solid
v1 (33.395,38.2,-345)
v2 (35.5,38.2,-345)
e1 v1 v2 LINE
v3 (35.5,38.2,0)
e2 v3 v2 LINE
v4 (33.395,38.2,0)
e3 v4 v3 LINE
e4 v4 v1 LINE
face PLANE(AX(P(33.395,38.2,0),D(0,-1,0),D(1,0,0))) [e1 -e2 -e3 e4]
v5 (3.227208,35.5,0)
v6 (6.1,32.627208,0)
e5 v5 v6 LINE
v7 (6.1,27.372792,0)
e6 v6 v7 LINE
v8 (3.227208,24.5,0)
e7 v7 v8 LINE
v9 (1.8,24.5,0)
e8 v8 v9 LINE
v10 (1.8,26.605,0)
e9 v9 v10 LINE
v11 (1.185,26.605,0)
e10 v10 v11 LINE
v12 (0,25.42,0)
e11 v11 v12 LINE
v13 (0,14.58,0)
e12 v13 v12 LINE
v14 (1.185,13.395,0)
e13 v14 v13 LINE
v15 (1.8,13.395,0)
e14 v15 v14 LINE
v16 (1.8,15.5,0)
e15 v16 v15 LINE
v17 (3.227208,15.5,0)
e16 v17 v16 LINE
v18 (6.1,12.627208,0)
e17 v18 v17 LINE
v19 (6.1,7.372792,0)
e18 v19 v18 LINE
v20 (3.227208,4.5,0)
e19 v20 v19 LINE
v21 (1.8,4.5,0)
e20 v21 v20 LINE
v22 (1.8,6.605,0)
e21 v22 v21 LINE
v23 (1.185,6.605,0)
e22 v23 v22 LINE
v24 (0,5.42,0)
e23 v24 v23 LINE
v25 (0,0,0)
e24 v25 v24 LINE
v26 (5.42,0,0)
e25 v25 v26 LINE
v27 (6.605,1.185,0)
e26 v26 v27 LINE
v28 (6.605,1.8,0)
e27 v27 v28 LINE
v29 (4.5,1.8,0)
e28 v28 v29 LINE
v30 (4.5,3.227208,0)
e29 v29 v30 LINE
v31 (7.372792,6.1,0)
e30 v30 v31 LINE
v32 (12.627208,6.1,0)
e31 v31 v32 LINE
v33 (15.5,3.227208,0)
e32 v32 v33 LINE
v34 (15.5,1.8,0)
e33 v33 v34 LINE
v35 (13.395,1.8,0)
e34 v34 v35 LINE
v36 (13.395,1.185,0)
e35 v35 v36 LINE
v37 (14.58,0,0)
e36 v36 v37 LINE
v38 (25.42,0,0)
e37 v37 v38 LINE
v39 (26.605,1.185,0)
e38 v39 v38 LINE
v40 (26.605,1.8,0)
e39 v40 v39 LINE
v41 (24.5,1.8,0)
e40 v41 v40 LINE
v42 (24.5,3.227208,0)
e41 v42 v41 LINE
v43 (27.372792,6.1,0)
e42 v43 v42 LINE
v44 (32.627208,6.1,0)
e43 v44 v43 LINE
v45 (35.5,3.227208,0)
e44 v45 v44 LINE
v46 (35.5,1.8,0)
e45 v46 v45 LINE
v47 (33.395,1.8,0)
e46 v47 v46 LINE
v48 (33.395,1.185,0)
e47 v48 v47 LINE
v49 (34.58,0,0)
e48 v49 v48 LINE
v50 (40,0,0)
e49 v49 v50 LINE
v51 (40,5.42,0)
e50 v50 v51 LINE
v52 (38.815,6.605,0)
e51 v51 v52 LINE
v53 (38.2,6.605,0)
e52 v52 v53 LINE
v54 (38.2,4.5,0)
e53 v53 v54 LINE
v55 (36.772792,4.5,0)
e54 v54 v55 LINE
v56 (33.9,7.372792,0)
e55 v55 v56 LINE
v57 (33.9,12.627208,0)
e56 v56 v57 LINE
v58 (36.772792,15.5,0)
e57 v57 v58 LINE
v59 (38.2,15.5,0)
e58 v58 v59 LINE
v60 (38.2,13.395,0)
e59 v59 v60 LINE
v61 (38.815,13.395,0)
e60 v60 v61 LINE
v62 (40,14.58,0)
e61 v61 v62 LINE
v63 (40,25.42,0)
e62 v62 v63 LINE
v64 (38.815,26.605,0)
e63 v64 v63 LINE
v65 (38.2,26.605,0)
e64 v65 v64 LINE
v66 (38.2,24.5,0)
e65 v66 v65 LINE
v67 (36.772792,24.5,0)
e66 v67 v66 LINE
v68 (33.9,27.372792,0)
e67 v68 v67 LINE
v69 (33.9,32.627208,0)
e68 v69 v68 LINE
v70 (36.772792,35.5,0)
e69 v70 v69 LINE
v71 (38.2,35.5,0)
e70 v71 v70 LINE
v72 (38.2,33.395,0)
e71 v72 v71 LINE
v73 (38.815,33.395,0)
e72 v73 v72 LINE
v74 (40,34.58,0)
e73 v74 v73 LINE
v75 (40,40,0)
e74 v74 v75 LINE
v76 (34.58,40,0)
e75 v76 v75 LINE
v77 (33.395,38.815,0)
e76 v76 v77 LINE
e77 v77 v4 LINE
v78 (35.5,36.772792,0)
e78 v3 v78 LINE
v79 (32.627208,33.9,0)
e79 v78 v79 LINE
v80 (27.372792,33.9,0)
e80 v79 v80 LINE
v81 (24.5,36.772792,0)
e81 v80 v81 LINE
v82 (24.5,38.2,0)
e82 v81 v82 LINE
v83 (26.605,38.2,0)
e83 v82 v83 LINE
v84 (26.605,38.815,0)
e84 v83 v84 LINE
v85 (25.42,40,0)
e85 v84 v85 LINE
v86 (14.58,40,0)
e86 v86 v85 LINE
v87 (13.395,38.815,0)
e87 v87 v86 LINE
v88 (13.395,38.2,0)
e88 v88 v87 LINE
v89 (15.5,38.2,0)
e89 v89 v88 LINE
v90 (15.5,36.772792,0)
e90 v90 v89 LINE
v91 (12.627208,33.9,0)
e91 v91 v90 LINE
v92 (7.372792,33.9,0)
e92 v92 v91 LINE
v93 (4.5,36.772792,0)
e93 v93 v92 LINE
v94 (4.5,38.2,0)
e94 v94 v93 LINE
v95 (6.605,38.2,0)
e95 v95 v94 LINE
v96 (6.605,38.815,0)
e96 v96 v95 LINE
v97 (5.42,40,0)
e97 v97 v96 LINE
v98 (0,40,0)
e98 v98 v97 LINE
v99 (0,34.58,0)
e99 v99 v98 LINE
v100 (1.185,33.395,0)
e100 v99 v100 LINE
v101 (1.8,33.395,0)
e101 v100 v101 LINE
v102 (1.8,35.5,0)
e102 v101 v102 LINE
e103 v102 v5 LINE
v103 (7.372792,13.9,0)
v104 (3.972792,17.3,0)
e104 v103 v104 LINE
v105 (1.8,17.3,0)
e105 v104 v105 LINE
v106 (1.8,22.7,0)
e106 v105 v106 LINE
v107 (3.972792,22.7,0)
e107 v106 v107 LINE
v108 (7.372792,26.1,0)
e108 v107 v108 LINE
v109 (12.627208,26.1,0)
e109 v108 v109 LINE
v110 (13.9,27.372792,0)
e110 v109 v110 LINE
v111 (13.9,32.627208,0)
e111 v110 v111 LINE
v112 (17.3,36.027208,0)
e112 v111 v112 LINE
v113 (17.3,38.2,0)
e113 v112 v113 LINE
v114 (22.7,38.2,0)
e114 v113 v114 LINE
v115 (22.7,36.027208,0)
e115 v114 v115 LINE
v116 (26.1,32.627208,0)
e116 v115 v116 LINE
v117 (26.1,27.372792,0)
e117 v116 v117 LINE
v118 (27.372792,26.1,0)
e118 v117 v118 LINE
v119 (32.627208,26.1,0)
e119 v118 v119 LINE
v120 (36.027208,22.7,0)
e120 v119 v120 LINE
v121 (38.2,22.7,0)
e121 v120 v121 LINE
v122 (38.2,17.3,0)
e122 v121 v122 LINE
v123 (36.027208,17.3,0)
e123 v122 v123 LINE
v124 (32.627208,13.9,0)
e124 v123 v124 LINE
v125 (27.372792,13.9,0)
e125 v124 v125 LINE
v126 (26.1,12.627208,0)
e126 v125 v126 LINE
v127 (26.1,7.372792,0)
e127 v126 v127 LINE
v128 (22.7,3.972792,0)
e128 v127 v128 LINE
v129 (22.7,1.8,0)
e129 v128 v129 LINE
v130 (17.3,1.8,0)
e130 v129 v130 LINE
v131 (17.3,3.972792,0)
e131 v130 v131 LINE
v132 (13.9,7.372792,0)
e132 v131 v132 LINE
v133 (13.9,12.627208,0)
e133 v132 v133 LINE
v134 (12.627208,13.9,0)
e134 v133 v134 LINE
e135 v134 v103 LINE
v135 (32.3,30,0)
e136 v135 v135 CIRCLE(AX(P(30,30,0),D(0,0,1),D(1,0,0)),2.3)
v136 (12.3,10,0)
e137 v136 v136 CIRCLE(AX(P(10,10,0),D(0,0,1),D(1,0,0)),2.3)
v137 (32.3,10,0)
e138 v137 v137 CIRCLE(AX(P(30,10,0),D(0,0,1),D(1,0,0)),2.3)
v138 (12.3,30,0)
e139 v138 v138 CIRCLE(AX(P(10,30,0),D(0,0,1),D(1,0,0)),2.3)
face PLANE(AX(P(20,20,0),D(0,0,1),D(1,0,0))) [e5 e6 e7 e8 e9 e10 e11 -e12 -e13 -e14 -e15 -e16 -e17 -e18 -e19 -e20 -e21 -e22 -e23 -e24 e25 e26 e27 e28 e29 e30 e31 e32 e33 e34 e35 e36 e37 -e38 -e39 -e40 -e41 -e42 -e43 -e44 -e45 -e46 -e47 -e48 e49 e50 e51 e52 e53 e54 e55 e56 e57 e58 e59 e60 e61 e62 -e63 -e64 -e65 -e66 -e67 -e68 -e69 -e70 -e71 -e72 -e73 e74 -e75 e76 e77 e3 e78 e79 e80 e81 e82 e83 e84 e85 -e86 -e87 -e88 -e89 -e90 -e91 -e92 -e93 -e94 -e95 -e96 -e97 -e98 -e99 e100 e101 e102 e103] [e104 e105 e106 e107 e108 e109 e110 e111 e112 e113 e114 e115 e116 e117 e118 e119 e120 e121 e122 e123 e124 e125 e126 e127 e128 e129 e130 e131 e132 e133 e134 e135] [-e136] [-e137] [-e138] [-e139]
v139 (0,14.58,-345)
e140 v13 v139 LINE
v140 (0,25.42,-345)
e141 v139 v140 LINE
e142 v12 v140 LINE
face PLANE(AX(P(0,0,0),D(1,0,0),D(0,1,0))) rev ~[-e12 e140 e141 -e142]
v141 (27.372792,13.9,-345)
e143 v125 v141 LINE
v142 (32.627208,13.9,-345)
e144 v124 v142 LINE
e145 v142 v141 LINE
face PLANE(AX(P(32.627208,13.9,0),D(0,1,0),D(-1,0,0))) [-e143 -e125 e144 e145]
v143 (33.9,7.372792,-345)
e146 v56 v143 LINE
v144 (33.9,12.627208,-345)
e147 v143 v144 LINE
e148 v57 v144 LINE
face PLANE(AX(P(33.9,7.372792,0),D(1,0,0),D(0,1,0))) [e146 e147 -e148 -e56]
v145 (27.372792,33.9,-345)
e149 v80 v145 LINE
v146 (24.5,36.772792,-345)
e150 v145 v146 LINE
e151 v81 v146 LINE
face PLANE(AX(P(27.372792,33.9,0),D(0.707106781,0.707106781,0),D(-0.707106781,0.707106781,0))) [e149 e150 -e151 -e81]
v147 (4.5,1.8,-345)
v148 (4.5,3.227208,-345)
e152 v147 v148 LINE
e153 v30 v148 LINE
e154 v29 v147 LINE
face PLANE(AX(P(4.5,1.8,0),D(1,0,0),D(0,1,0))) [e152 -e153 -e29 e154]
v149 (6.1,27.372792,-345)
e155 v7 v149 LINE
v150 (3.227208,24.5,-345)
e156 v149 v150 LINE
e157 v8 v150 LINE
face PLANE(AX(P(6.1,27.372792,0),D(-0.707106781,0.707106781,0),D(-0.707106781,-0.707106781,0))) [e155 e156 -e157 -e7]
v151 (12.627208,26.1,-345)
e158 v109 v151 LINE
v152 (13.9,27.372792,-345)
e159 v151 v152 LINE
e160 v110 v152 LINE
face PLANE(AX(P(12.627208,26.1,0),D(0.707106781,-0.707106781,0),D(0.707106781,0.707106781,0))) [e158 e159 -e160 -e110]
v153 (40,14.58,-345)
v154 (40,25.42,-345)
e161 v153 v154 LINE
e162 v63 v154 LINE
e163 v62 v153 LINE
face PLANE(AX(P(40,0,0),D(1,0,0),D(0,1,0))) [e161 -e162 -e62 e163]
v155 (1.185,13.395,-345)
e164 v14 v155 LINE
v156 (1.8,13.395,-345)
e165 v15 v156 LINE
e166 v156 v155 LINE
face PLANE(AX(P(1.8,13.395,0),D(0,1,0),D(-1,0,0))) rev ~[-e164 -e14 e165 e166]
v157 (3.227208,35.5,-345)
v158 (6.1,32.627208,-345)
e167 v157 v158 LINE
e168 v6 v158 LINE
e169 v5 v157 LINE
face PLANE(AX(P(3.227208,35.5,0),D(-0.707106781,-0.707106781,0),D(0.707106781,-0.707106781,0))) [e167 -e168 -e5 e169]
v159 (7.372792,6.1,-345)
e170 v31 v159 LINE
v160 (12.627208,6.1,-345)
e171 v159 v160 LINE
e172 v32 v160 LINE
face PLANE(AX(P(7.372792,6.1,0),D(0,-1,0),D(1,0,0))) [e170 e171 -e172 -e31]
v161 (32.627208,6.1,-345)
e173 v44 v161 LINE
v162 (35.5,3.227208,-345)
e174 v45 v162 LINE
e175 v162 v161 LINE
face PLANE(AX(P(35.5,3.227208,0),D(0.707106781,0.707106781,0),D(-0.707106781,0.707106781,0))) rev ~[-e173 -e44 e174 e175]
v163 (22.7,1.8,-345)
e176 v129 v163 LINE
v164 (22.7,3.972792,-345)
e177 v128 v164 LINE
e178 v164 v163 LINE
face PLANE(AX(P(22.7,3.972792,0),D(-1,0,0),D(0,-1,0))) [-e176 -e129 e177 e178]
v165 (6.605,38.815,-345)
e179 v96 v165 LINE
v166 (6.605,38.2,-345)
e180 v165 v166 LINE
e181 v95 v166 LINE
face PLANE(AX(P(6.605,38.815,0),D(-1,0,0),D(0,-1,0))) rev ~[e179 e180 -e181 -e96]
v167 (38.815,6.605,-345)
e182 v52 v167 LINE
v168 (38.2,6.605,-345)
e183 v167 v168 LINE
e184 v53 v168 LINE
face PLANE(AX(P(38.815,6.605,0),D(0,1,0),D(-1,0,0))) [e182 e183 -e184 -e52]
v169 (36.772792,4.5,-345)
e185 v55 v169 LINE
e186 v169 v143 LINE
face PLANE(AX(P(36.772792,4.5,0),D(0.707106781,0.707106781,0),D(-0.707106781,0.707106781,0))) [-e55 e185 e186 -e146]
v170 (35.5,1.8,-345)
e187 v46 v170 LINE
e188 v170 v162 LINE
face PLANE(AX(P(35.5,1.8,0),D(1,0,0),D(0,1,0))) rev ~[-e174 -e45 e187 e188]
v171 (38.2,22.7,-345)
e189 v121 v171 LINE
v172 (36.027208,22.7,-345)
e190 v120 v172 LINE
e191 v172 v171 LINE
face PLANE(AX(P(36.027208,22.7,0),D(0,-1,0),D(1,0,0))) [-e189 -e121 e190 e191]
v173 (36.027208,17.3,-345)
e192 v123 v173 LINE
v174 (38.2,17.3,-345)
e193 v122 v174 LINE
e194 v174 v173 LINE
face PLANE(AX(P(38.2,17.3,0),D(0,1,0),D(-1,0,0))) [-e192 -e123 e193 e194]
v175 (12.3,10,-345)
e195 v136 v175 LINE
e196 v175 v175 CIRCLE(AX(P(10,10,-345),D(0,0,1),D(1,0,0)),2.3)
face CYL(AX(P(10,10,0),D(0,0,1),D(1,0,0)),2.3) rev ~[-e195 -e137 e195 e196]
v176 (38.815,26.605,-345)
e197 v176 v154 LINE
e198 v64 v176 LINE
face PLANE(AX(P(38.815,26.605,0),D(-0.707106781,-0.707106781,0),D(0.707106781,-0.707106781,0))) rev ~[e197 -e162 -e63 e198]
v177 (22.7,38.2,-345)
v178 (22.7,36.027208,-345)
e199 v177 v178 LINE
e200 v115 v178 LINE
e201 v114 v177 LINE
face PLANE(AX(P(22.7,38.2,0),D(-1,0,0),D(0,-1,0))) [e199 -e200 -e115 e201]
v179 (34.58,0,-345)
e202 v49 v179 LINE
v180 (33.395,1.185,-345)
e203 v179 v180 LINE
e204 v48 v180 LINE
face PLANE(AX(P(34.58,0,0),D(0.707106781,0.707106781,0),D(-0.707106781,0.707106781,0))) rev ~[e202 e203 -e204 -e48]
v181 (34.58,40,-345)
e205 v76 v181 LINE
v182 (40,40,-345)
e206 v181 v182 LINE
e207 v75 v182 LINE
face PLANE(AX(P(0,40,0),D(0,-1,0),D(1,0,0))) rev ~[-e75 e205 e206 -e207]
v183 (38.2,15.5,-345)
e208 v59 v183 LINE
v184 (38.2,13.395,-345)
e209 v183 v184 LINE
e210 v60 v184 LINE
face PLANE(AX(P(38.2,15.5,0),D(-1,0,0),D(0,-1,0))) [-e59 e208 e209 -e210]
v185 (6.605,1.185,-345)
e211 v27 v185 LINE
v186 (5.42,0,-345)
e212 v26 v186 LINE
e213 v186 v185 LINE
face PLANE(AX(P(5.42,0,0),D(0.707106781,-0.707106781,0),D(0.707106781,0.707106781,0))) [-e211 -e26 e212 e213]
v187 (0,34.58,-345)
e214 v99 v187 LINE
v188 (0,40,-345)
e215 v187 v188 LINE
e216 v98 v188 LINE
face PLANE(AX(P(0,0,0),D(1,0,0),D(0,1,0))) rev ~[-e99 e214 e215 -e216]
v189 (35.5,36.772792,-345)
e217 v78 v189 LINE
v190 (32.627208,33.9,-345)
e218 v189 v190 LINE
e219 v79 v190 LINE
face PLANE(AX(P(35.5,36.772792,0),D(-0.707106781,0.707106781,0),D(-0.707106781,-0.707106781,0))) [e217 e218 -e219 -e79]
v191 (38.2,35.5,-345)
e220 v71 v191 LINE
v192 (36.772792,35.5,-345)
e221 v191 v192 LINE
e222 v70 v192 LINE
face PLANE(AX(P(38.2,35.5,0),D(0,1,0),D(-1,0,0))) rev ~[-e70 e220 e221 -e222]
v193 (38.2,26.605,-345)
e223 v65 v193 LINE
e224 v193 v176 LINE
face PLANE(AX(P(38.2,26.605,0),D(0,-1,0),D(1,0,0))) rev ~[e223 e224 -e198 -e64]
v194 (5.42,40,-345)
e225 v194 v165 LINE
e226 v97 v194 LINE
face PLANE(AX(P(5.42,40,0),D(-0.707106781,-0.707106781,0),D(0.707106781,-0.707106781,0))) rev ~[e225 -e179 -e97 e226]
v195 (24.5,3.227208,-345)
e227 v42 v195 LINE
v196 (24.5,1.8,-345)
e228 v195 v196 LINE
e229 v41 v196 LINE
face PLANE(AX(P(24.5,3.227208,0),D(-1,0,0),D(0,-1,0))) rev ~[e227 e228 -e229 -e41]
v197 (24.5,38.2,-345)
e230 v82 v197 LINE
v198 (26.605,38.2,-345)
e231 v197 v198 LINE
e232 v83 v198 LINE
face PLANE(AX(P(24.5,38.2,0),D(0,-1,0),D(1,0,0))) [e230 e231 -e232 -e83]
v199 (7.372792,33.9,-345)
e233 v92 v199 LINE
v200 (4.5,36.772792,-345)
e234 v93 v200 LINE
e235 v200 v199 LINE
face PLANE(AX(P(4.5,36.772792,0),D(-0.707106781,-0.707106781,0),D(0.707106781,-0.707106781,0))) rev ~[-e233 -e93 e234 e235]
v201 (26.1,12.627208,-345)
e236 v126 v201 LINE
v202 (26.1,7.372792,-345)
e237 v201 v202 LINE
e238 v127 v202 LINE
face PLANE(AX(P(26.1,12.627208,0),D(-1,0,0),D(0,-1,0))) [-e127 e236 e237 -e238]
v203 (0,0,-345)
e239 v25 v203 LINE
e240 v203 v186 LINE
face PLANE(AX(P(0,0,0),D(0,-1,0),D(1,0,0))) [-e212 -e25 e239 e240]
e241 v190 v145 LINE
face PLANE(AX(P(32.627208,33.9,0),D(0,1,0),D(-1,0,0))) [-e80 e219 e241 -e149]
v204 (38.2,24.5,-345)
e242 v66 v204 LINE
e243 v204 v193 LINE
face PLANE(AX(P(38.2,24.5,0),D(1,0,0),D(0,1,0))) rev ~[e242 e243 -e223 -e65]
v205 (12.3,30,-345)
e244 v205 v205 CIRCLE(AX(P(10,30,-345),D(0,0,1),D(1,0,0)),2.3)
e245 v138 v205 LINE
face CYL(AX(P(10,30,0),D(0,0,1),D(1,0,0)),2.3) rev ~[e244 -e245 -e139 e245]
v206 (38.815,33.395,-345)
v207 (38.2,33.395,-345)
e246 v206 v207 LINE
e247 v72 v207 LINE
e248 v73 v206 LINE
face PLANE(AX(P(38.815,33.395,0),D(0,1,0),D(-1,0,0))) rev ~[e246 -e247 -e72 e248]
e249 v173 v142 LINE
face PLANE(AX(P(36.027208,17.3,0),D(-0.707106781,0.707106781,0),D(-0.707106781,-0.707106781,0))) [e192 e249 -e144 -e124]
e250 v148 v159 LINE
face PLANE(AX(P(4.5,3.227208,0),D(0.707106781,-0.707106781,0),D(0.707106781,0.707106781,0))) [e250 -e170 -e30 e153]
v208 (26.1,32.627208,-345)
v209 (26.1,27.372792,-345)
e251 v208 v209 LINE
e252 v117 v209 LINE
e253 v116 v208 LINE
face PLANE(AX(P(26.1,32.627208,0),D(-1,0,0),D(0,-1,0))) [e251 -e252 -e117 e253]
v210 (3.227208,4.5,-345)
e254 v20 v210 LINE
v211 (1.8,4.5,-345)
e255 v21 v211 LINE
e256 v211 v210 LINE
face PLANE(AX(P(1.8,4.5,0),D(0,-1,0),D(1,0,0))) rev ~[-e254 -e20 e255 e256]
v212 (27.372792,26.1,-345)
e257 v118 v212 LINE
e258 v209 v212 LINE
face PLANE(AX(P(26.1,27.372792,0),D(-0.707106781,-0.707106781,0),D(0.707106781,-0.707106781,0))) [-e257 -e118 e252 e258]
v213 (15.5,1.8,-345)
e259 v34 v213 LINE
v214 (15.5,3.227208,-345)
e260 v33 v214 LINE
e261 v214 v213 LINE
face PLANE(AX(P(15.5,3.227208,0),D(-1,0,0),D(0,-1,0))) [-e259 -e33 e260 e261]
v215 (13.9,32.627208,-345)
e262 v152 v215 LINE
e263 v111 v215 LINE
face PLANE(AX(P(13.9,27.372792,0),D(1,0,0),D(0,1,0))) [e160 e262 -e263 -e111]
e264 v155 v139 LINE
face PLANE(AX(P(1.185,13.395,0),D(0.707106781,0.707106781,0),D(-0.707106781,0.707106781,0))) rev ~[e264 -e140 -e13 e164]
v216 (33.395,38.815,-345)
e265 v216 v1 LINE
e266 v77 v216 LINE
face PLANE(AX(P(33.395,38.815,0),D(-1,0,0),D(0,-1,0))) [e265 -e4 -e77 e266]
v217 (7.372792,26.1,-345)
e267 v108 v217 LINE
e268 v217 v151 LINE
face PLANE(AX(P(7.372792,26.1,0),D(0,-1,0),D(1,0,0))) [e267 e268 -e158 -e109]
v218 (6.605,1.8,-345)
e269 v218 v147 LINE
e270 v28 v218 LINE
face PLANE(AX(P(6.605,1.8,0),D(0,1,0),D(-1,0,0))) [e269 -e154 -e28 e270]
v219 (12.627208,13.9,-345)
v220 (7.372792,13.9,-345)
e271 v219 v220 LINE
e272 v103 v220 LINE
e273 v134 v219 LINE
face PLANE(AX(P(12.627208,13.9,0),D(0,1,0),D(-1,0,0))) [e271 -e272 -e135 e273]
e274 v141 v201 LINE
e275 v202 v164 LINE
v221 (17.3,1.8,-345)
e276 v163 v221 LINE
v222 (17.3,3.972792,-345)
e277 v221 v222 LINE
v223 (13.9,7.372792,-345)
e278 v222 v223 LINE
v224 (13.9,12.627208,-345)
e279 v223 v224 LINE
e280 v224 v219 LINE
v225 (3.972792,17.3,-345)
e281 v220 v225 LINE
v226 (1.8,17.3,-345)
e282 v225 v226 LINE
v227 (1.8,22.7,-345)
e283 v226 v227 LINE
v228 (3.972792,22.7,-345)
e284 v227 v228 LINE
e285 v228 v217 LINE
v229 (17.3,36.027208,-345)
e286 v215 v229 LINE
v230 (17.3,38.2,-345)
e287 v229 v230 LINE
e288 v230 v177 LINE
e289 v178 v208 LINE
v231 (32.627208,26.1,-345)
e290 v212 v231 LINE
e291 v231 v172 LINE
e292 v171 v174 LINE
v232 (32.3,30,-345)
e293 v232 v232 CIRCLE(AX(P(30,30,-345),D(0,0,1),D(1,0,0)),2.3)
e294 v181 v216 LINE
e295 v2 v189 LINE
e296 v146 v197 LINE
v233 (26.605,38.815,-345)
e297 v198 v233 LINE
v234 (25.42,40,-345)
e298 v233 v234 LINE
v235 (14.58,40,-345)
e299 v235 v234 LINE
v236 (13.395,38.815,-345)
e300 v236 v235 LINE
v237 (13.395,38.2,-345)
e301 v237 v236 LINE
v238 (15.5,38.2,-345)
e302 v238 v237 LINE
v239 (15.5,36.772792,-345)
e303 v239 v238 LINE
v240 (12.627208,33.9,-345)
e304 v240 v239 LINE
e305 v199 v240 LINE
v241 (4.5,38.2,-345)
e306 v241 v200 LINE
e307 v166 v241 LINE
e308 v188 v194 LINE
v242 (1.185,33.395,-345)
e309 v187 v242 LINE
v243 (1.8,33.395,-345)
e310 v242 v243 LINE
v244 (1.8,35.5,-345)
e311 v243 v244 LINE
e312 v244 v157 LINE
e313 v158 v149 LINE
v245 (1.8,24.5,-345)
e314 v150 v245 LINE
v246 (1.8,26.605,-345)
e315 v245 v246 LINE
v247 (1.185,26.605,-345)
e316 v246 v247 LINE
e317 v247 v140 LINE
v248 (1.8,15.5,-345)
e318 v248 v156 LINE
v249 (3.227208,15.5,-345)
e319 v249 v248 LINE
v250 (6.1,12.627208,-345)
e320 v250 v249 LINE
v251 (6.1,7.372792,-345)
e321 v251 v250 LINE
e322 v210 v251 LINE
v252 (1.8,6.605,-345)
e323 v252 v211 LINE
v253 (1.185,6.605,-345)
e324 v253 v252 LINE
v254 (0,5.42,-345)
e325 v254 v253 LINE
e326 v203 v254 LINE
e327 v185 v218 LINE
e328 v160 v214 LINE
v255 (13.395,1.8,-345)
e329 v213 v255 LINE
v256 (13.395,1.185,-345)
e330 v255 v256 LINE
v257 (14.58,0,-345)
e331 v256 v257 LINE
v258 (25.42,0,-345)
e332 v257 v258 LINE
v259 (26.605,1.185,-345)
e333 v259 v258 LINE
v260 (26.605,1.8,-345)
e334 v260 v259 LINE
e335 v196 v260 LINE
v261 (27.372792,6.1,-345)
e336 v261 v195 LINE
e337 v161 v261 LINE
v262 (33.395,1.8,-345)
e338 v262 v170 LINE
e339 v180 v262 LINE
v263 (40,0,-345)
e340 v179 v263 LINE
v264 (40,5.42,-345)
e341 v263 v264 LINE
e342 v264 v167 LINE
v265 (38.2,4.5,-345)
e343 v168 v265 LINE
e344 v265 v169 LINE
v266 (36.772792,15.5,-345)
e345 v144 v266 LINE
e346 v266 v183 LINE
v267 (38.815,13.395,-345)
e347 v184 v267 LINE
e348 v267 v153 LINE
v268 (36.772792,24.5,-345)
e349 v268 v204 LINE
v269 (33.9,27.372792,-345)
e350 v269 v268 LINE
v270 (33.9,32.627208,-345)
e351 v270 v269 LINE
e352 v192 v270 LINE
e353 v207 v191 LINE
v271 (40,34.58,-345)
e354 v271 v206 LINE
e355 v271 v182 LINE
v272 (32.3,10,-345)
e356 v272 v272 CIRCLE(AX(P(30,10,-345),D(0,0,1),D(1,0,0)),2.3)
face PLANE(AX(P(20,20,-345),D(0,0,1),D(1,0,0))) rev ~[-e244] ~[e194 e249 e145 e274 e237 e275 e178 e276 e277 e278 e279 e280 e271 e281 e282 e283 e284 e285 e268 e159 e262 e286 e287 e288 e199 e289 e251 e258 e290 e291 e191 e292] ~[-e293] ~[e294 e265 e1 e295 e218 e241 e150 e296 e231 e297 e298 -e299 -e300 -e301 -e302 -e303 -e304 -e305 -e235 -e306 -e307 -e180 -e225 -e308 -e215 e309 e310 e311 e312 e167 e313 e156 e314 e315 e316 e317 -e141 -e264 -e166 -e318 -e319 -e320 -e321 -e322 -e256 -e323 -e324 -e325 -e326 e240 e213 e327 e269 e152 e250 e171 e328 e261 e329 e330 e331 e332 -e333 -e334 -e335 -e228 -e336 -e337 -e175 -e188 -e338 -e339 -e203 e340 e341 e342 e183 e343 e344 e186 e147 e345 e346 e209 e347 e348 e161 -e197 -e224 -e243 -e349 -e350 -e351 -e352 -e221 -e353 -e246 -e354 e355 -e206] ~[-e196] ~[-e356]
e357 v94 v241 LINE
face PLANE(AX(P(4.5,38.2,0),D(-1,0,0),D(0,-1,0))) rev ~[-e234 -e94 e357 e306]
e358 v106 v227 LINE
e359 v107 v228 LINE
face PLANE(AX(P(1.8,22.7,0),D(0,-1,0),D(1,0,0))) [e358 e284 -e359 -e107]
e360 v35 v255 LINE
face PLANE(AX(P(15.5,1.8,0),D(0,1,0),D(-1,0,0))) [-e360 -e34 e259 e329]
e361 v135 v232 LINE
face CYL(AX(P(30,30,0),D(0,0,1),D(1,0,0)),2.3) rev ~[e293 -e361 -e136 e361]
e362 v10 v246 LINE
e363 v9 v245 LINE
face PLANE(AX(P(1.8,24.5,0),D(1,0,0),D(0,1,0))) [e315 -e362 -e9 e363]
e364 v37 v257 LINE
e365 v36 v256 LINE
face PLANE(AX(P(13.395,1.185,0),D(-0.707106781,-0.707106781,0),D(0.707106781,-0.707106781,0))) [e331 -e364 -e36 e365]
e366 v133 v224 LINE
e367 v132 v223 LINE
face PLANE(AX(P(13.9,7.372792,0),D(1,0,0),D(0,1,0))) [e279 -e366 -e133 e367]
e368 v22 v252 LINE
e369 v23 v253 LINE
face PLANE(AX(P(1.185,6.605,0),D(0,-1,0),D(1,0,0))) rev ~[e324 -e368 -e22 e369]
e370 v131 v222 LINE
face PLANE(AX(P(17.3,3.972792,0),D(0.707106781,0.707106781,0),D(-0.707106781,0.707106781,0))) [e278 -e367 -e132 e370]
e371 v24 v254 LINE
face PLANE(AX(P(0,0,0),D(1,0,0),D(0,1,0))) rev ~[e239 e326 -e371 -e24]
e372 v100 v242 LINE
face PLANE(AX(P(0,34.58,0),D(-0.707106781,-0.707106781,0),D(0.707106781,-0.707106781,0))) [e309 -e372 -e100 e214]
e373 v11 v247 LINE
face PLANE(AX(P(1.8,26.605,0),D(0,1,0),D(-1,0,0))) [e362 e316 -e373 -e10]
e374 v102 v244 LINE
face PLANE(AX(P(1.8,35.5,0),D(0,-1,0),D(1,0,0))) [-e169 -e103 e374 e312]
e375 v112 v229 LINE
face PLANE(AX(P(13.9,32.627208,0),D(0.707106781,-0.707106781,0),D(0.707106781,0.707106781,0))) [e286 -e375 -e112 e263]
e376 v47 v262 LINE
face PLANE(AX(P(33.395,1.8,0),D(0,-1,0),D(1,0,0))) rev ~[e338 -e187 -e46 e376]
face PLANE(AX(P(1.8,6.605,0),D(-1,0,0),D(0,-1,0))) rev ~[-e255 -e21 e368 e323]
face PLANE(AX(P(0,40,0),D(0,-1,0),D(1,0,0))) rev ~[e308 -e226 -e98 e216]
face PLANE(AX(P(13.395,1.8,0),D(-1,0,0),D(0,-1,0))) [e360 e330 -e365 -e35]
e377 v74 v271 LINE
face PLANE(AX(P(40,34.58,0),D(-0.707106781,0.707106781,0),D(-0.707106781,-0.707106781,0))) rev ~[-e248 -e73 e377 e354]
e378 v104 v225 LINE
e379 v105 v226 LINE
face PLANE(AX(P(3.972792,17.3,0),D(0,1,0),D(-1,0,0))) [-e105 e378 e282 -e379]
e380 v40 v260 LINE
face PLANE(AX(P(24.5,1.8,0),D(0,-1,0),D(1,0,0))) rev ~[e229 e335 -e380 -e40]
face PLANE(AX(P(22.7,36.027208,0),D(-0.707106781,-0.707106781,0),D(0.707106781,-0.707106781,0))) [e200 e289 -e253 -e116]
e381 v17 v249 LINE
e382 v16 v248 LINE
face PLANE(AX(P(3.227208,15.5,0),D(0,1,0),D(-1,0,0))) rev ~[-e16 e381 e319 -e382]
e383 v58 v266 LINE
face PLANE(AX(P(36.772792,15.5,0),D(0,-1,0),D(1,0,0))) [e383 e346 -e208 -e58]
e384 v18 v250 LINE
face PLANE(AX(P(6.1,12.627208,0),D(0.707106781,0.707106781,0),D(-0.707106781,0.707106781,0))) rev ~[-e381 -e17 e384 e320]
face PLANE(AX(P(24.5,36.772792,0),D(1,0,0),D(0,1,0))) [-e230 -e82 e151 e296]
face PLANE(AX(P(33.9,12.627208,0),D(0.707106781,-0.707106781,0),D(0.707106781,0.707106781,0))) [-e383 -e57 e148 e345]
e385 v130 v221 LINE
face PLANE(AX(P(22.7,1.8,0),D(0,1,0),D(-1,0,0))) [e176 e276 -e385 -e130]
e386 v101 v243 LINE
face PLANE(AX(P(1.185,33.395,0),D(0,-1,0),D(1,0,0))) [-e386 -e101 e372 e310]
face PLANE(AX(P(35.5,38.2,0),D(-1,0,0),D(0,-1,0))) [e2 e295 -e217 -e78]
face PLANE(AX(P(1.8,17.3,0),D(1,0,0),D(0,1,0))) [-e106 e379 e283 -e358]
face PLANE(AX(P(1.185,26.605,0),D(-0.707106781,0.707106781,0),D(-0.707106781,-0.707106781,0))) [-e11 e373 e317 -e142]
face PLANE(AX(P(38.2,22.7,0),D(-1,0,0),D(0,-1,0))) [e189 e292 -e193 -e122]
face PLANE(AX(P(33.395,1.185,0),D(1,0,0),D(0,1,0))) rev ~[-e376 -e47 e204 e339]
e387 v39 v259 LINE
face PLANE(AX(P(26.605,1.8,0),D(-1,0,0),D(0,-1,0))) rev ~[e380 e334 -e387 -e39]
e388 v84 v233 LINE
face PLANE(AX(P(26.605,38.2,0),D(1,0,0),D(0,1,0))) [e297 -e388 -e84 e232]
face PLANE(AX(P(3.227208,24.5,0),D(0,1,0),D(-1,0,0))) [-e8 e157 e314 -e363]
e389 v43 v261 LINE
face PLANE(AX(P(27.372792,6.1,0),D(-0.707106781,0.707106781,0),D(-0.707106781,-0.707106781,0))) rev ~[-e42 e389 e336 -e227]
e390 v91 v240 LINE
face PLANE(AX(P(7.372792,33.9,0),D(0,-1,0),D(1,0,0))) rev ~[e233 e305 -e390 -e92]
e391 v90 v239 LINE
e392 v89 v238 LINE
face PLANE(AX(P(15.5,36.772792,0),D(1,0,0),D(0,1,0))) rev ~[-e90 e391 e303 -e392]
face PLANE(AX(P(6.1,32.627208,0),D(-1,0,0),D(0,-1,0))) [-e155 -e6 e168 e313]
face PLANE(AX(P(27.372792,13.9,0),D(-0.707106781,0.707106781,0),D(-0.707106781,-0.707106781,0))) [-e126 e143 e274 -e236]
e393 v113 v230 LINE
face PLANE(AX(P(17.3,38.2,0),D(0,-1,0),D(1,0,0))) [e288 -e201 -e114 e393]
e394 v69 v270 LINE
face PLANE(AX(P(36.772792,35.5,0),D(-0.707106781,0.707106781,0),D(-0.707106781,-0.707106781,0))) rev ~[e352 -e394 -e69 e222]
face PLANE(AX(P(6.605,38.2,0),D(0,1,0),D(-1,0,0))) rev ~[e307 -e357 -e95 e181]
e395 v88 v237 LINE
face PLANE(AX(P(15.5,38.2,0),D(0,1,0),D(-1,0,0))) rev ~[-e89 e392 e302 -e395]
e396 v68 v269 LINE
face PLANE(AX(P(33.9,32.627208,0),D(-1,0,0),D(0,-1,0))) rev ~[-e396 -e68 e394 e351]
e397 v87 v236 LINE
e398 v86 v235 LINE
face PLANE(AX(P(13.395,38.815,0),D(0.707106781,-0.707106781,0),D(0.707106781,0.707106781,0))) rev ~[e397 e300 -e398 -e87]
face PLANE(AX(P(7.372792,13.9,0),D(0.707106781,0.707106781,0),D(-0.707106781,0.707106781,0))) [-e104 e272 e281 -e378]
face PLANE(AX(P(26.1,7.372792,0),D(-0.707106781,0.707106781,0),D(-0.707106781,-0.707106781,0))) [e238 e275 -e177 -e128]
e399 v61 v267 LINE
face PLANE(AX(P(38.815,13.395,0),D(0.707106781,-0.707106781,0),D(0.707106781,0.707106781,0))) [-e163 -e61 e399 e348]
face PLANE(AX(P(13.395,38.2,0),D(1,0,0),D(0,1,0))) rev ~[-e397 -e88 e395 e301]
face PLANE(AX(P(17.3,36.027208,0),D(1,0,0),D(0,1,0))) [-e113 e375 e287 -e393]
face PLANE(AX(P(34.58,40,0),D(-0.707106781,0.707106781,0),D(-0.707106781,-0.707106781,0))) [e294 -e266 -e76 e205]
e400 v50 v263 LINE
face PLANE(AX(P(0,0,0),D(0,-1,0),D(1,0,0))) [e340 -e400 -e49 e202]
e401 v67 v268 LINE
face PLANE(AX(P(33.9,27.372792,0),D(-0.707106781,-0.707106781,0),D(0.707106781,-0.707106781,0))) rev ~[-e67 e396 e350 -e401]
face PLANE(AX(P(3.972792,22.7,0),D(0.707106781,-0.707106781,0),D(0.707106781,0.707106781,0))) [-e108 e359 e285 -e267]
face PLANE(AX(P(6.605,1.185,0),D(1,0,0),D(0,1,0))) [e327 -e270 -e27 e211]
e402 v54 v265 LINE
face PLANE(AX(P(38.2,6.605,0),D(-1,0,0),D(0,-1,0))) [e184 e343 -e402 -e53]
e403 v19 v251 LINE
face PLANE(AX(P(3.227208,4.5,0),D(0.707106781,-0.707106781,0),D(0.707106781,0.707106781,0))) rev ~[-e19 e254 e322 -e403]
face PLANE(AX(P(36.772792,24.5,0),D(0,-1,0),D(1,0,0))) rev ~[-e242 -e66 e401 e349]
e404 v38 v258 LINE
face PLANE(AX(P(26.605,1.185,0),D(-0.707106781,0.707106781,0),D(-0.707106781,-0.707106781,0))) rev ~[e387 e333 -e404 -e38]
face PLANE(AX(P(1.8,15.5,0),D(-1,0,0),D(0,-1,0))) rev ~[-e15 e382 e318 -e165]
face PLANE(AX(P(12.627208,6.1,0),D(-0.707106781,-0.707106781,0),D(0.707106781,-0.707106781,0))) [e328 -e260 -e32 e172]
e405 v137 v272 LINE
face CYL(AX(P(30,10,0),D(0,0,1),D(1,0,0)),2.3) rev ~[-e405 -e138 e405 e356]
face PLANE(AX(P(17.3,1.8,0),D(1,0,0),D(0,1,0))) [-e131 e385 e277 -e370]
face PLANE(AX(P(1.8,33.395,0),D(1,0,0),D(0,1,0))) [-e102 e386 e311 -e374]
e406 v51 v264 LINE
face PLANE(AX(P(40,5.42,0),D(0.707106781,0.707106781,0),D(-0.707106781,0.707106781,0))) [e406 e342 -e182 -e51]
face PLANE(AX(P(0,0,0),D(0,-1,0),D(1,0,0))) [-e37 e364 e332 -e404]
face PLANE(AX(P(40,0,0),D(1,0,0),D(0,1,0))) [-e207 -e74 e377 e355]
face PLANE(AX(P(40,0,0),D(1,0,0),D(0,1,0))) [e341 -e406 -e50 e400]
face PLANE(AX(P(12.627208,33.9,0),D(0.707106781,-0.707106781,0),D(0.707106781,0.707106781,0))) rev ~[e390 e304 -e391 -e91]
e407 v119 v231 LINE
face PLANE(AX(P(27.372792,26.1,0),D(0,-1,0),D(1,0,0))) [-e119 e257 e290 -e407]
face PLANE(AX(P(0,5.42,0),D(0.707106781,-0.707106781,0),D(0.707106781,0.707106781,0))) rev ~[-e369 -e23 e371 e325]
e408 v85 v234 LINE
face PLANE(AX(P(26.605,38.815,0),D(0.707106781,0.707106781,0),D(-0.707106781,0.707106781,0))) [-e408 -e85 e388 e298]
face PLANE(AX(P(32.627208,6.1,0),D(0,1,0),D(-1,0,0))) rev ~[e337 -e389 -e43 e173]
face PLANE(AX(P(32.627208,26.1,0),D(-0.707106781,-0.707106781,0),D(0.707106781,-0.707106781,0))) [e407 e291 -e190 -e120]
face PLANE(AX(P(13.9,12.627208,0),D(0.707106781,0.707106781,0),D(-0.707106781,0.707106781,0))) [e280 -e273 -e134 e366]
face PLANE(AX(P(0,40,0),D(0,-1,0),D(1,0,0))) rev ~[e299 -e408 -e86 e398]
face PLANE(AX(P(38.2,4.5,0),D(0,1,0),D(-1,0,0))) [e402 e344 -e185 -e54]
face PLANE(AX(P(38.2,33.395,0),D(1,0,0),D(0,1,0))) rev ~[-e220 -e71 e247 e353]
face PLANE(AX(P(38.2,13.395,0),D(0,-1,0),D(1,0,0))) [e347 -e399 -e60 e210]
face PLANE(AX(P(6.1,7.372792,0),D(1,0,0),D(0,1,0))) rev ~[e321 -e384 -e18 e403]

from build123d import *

# Parameters (mm, degrees)
SKETCH1_W           = 40
SKETCH1_H           = 40
BOSS_EXTRUDE1_DEPTH = 345
SKETCH2_R           = 2.3
CUT_EXTRUDE1_DEPTH  = 345
CUT_EXTRUDE2_DEPTH  = 345


with BuildPart() as part:
    # Sketch1 → Boss-Extrude1 (new body)
    with BuildSketch(Plane.XY):
        with Locations((20, 20)):
            Rectangle(SKETCH1_W, SKETCH1_H)
    extrude(amount=-BOSS_EXTRUDE1_DEPTH)

    # Sketch2 → Cut-Extrude1 (cut)
    with BuildSketch(Plane.XY):
        with Locations((10, 30)):
            Circle(SKETCH2_R)
        with Locations((30, 30)):
            Circle(SKETCH2_R)
        with Locations((30, 10)):
            Circle(SKETCH2_R)
        with Locations((10, 10)):
            Circle(SKETCH2_R)
        Polygon((6.605, 38.815), (6.605, 38.2), (4.5, 38.2), (4.5, 36.772792206), (7.372792206, 33.9), (12.627207794, 33.9), (15.5, 36.772792206), (15.5, 38.2), (13.395, 38.2), (13.395, 38.815), (14.58, 40), (5.42, 40), align=None)
        Polygon((26.605, 38.815), (25.42, 40), (34.58, 40), (33.395, 38.815), (33.395, 38.2), (35.5, 38.2), (35.5, 36.772792206), (32.627207794, 33.9), (27.372792206, 33.9), (24.5, 36.772792206), (24.5, 38.2), (26.605, 38.2), align=None)
        Polygon((26.605, 1.8), (26.605, 1.185), (25.42, 0), (34.58, 0), (33.395, 1.185), (33.395, 1.8), (35.5, 1.8), (35.5, 3.227207794), (32.627207794, 6.1), (27.372792206, 6.1), (24.5, 3.227207794), (24.5, 1.8), align=None)
        Polygon((13.395, 1.185), (14.58, 0), (5.42, 0), (6.605, 1.185), (6.605, 1.8), (4.5, 1.8), (4.5, 3.227207794), (7.372792206, 6.1), (12.627207794, 6.1), (15.5, 3.227207794), (15.5, 1.8), (13.395, 1.8), align=None)
        Polygon((1.8, 13.395), (1.185, 13.395), (0, 14.58), (0, 5.42), (1.185, 6.605), (1.8, 6.605), (1.8, 4.5), (3.227207794, 4.5), (6.1, 7.372792206), (6.1, 12.627207794), (3.227207794, 15.5), (1.8, 15.5), align=None)
        Polygon((1.185, 26.605), (0, 25.42), (0, 34.58), (1.185, 33.395), (1.8, 33.395), (1.8, 35.5), (3.227207794, 35.5), (6.1, 32.627207794), (6.1, 27.372792206), (3.227207794, 24.5), (1.8, 24.5), (1.8, 26.605), align=None)
        Polygon((38.2, 15.5), (38.2, 13.395), (38.815, 13.395), (40, 14.58), (40, 5.42), (38.815, 6.605), (38.2, 6.605), (38.2, 4.5), (36.772792206, 4.5), (33.9, 7.372792206), (33.9, 12.627207794), (36.772792206, 15.5), align=None)
        Polygon((38.2, 26.605), (38.815, 26.605), (40, 25.42), (40, 34.58), (38.815, 33.395), (38.2, 33.395), (38.2, 35.5), (36.772792206, 35.5), (33.9, 32.627207794), (33.9, 27.372792206), (36.772792206, 24.5), (38.2, 24.5), align=None)
    extrude(amount=-CUT_EXTRUDE1_DEPTH, mode=Mode.SUBTRACT)

    # Sketch3 → Cut-Extrude2 (cut)
    with BuildSketch(Plane.XY):
        Polygon((17.3, 38.2), (22.7, 38.2), (22.7, 36.027207794), (26.1, 32.627207794), (26.1, 27.372792206), (27.372792206, 26.1), (32.627207794, 26.1), (36.027207794, 22.7), (38.2, 22.7), (38.2, 17.3), (36.027207794, 17.3), (32.627207794, 13.9), (27.372792206, 13.9), (26.1, 12.627207794), (26.1, 7.372792206), (22.7, 3.972792206), (22.7, 1.8), (17.3, 1.8), (17.3, 3.972792206), (13.9, 7.372792206), (13.9, 12.627207794), (12.627207794, 13.9), (7.372792206, 13.9), (3.972792206, 17.3), (1.8, 17.3), (1.8, 22.7), (3.972792206, 22.7), (7.372792206, 26.1), (12.627207794, 26.1), (13.9, 27.372792206), (13.9, 32.627207794), (17.3, 36.027207794), align=None)
    extrude(amount=-CUT_EXTRUDE2_DEPTH, mode=Mode.SUBTRACT)


solid = part.part
